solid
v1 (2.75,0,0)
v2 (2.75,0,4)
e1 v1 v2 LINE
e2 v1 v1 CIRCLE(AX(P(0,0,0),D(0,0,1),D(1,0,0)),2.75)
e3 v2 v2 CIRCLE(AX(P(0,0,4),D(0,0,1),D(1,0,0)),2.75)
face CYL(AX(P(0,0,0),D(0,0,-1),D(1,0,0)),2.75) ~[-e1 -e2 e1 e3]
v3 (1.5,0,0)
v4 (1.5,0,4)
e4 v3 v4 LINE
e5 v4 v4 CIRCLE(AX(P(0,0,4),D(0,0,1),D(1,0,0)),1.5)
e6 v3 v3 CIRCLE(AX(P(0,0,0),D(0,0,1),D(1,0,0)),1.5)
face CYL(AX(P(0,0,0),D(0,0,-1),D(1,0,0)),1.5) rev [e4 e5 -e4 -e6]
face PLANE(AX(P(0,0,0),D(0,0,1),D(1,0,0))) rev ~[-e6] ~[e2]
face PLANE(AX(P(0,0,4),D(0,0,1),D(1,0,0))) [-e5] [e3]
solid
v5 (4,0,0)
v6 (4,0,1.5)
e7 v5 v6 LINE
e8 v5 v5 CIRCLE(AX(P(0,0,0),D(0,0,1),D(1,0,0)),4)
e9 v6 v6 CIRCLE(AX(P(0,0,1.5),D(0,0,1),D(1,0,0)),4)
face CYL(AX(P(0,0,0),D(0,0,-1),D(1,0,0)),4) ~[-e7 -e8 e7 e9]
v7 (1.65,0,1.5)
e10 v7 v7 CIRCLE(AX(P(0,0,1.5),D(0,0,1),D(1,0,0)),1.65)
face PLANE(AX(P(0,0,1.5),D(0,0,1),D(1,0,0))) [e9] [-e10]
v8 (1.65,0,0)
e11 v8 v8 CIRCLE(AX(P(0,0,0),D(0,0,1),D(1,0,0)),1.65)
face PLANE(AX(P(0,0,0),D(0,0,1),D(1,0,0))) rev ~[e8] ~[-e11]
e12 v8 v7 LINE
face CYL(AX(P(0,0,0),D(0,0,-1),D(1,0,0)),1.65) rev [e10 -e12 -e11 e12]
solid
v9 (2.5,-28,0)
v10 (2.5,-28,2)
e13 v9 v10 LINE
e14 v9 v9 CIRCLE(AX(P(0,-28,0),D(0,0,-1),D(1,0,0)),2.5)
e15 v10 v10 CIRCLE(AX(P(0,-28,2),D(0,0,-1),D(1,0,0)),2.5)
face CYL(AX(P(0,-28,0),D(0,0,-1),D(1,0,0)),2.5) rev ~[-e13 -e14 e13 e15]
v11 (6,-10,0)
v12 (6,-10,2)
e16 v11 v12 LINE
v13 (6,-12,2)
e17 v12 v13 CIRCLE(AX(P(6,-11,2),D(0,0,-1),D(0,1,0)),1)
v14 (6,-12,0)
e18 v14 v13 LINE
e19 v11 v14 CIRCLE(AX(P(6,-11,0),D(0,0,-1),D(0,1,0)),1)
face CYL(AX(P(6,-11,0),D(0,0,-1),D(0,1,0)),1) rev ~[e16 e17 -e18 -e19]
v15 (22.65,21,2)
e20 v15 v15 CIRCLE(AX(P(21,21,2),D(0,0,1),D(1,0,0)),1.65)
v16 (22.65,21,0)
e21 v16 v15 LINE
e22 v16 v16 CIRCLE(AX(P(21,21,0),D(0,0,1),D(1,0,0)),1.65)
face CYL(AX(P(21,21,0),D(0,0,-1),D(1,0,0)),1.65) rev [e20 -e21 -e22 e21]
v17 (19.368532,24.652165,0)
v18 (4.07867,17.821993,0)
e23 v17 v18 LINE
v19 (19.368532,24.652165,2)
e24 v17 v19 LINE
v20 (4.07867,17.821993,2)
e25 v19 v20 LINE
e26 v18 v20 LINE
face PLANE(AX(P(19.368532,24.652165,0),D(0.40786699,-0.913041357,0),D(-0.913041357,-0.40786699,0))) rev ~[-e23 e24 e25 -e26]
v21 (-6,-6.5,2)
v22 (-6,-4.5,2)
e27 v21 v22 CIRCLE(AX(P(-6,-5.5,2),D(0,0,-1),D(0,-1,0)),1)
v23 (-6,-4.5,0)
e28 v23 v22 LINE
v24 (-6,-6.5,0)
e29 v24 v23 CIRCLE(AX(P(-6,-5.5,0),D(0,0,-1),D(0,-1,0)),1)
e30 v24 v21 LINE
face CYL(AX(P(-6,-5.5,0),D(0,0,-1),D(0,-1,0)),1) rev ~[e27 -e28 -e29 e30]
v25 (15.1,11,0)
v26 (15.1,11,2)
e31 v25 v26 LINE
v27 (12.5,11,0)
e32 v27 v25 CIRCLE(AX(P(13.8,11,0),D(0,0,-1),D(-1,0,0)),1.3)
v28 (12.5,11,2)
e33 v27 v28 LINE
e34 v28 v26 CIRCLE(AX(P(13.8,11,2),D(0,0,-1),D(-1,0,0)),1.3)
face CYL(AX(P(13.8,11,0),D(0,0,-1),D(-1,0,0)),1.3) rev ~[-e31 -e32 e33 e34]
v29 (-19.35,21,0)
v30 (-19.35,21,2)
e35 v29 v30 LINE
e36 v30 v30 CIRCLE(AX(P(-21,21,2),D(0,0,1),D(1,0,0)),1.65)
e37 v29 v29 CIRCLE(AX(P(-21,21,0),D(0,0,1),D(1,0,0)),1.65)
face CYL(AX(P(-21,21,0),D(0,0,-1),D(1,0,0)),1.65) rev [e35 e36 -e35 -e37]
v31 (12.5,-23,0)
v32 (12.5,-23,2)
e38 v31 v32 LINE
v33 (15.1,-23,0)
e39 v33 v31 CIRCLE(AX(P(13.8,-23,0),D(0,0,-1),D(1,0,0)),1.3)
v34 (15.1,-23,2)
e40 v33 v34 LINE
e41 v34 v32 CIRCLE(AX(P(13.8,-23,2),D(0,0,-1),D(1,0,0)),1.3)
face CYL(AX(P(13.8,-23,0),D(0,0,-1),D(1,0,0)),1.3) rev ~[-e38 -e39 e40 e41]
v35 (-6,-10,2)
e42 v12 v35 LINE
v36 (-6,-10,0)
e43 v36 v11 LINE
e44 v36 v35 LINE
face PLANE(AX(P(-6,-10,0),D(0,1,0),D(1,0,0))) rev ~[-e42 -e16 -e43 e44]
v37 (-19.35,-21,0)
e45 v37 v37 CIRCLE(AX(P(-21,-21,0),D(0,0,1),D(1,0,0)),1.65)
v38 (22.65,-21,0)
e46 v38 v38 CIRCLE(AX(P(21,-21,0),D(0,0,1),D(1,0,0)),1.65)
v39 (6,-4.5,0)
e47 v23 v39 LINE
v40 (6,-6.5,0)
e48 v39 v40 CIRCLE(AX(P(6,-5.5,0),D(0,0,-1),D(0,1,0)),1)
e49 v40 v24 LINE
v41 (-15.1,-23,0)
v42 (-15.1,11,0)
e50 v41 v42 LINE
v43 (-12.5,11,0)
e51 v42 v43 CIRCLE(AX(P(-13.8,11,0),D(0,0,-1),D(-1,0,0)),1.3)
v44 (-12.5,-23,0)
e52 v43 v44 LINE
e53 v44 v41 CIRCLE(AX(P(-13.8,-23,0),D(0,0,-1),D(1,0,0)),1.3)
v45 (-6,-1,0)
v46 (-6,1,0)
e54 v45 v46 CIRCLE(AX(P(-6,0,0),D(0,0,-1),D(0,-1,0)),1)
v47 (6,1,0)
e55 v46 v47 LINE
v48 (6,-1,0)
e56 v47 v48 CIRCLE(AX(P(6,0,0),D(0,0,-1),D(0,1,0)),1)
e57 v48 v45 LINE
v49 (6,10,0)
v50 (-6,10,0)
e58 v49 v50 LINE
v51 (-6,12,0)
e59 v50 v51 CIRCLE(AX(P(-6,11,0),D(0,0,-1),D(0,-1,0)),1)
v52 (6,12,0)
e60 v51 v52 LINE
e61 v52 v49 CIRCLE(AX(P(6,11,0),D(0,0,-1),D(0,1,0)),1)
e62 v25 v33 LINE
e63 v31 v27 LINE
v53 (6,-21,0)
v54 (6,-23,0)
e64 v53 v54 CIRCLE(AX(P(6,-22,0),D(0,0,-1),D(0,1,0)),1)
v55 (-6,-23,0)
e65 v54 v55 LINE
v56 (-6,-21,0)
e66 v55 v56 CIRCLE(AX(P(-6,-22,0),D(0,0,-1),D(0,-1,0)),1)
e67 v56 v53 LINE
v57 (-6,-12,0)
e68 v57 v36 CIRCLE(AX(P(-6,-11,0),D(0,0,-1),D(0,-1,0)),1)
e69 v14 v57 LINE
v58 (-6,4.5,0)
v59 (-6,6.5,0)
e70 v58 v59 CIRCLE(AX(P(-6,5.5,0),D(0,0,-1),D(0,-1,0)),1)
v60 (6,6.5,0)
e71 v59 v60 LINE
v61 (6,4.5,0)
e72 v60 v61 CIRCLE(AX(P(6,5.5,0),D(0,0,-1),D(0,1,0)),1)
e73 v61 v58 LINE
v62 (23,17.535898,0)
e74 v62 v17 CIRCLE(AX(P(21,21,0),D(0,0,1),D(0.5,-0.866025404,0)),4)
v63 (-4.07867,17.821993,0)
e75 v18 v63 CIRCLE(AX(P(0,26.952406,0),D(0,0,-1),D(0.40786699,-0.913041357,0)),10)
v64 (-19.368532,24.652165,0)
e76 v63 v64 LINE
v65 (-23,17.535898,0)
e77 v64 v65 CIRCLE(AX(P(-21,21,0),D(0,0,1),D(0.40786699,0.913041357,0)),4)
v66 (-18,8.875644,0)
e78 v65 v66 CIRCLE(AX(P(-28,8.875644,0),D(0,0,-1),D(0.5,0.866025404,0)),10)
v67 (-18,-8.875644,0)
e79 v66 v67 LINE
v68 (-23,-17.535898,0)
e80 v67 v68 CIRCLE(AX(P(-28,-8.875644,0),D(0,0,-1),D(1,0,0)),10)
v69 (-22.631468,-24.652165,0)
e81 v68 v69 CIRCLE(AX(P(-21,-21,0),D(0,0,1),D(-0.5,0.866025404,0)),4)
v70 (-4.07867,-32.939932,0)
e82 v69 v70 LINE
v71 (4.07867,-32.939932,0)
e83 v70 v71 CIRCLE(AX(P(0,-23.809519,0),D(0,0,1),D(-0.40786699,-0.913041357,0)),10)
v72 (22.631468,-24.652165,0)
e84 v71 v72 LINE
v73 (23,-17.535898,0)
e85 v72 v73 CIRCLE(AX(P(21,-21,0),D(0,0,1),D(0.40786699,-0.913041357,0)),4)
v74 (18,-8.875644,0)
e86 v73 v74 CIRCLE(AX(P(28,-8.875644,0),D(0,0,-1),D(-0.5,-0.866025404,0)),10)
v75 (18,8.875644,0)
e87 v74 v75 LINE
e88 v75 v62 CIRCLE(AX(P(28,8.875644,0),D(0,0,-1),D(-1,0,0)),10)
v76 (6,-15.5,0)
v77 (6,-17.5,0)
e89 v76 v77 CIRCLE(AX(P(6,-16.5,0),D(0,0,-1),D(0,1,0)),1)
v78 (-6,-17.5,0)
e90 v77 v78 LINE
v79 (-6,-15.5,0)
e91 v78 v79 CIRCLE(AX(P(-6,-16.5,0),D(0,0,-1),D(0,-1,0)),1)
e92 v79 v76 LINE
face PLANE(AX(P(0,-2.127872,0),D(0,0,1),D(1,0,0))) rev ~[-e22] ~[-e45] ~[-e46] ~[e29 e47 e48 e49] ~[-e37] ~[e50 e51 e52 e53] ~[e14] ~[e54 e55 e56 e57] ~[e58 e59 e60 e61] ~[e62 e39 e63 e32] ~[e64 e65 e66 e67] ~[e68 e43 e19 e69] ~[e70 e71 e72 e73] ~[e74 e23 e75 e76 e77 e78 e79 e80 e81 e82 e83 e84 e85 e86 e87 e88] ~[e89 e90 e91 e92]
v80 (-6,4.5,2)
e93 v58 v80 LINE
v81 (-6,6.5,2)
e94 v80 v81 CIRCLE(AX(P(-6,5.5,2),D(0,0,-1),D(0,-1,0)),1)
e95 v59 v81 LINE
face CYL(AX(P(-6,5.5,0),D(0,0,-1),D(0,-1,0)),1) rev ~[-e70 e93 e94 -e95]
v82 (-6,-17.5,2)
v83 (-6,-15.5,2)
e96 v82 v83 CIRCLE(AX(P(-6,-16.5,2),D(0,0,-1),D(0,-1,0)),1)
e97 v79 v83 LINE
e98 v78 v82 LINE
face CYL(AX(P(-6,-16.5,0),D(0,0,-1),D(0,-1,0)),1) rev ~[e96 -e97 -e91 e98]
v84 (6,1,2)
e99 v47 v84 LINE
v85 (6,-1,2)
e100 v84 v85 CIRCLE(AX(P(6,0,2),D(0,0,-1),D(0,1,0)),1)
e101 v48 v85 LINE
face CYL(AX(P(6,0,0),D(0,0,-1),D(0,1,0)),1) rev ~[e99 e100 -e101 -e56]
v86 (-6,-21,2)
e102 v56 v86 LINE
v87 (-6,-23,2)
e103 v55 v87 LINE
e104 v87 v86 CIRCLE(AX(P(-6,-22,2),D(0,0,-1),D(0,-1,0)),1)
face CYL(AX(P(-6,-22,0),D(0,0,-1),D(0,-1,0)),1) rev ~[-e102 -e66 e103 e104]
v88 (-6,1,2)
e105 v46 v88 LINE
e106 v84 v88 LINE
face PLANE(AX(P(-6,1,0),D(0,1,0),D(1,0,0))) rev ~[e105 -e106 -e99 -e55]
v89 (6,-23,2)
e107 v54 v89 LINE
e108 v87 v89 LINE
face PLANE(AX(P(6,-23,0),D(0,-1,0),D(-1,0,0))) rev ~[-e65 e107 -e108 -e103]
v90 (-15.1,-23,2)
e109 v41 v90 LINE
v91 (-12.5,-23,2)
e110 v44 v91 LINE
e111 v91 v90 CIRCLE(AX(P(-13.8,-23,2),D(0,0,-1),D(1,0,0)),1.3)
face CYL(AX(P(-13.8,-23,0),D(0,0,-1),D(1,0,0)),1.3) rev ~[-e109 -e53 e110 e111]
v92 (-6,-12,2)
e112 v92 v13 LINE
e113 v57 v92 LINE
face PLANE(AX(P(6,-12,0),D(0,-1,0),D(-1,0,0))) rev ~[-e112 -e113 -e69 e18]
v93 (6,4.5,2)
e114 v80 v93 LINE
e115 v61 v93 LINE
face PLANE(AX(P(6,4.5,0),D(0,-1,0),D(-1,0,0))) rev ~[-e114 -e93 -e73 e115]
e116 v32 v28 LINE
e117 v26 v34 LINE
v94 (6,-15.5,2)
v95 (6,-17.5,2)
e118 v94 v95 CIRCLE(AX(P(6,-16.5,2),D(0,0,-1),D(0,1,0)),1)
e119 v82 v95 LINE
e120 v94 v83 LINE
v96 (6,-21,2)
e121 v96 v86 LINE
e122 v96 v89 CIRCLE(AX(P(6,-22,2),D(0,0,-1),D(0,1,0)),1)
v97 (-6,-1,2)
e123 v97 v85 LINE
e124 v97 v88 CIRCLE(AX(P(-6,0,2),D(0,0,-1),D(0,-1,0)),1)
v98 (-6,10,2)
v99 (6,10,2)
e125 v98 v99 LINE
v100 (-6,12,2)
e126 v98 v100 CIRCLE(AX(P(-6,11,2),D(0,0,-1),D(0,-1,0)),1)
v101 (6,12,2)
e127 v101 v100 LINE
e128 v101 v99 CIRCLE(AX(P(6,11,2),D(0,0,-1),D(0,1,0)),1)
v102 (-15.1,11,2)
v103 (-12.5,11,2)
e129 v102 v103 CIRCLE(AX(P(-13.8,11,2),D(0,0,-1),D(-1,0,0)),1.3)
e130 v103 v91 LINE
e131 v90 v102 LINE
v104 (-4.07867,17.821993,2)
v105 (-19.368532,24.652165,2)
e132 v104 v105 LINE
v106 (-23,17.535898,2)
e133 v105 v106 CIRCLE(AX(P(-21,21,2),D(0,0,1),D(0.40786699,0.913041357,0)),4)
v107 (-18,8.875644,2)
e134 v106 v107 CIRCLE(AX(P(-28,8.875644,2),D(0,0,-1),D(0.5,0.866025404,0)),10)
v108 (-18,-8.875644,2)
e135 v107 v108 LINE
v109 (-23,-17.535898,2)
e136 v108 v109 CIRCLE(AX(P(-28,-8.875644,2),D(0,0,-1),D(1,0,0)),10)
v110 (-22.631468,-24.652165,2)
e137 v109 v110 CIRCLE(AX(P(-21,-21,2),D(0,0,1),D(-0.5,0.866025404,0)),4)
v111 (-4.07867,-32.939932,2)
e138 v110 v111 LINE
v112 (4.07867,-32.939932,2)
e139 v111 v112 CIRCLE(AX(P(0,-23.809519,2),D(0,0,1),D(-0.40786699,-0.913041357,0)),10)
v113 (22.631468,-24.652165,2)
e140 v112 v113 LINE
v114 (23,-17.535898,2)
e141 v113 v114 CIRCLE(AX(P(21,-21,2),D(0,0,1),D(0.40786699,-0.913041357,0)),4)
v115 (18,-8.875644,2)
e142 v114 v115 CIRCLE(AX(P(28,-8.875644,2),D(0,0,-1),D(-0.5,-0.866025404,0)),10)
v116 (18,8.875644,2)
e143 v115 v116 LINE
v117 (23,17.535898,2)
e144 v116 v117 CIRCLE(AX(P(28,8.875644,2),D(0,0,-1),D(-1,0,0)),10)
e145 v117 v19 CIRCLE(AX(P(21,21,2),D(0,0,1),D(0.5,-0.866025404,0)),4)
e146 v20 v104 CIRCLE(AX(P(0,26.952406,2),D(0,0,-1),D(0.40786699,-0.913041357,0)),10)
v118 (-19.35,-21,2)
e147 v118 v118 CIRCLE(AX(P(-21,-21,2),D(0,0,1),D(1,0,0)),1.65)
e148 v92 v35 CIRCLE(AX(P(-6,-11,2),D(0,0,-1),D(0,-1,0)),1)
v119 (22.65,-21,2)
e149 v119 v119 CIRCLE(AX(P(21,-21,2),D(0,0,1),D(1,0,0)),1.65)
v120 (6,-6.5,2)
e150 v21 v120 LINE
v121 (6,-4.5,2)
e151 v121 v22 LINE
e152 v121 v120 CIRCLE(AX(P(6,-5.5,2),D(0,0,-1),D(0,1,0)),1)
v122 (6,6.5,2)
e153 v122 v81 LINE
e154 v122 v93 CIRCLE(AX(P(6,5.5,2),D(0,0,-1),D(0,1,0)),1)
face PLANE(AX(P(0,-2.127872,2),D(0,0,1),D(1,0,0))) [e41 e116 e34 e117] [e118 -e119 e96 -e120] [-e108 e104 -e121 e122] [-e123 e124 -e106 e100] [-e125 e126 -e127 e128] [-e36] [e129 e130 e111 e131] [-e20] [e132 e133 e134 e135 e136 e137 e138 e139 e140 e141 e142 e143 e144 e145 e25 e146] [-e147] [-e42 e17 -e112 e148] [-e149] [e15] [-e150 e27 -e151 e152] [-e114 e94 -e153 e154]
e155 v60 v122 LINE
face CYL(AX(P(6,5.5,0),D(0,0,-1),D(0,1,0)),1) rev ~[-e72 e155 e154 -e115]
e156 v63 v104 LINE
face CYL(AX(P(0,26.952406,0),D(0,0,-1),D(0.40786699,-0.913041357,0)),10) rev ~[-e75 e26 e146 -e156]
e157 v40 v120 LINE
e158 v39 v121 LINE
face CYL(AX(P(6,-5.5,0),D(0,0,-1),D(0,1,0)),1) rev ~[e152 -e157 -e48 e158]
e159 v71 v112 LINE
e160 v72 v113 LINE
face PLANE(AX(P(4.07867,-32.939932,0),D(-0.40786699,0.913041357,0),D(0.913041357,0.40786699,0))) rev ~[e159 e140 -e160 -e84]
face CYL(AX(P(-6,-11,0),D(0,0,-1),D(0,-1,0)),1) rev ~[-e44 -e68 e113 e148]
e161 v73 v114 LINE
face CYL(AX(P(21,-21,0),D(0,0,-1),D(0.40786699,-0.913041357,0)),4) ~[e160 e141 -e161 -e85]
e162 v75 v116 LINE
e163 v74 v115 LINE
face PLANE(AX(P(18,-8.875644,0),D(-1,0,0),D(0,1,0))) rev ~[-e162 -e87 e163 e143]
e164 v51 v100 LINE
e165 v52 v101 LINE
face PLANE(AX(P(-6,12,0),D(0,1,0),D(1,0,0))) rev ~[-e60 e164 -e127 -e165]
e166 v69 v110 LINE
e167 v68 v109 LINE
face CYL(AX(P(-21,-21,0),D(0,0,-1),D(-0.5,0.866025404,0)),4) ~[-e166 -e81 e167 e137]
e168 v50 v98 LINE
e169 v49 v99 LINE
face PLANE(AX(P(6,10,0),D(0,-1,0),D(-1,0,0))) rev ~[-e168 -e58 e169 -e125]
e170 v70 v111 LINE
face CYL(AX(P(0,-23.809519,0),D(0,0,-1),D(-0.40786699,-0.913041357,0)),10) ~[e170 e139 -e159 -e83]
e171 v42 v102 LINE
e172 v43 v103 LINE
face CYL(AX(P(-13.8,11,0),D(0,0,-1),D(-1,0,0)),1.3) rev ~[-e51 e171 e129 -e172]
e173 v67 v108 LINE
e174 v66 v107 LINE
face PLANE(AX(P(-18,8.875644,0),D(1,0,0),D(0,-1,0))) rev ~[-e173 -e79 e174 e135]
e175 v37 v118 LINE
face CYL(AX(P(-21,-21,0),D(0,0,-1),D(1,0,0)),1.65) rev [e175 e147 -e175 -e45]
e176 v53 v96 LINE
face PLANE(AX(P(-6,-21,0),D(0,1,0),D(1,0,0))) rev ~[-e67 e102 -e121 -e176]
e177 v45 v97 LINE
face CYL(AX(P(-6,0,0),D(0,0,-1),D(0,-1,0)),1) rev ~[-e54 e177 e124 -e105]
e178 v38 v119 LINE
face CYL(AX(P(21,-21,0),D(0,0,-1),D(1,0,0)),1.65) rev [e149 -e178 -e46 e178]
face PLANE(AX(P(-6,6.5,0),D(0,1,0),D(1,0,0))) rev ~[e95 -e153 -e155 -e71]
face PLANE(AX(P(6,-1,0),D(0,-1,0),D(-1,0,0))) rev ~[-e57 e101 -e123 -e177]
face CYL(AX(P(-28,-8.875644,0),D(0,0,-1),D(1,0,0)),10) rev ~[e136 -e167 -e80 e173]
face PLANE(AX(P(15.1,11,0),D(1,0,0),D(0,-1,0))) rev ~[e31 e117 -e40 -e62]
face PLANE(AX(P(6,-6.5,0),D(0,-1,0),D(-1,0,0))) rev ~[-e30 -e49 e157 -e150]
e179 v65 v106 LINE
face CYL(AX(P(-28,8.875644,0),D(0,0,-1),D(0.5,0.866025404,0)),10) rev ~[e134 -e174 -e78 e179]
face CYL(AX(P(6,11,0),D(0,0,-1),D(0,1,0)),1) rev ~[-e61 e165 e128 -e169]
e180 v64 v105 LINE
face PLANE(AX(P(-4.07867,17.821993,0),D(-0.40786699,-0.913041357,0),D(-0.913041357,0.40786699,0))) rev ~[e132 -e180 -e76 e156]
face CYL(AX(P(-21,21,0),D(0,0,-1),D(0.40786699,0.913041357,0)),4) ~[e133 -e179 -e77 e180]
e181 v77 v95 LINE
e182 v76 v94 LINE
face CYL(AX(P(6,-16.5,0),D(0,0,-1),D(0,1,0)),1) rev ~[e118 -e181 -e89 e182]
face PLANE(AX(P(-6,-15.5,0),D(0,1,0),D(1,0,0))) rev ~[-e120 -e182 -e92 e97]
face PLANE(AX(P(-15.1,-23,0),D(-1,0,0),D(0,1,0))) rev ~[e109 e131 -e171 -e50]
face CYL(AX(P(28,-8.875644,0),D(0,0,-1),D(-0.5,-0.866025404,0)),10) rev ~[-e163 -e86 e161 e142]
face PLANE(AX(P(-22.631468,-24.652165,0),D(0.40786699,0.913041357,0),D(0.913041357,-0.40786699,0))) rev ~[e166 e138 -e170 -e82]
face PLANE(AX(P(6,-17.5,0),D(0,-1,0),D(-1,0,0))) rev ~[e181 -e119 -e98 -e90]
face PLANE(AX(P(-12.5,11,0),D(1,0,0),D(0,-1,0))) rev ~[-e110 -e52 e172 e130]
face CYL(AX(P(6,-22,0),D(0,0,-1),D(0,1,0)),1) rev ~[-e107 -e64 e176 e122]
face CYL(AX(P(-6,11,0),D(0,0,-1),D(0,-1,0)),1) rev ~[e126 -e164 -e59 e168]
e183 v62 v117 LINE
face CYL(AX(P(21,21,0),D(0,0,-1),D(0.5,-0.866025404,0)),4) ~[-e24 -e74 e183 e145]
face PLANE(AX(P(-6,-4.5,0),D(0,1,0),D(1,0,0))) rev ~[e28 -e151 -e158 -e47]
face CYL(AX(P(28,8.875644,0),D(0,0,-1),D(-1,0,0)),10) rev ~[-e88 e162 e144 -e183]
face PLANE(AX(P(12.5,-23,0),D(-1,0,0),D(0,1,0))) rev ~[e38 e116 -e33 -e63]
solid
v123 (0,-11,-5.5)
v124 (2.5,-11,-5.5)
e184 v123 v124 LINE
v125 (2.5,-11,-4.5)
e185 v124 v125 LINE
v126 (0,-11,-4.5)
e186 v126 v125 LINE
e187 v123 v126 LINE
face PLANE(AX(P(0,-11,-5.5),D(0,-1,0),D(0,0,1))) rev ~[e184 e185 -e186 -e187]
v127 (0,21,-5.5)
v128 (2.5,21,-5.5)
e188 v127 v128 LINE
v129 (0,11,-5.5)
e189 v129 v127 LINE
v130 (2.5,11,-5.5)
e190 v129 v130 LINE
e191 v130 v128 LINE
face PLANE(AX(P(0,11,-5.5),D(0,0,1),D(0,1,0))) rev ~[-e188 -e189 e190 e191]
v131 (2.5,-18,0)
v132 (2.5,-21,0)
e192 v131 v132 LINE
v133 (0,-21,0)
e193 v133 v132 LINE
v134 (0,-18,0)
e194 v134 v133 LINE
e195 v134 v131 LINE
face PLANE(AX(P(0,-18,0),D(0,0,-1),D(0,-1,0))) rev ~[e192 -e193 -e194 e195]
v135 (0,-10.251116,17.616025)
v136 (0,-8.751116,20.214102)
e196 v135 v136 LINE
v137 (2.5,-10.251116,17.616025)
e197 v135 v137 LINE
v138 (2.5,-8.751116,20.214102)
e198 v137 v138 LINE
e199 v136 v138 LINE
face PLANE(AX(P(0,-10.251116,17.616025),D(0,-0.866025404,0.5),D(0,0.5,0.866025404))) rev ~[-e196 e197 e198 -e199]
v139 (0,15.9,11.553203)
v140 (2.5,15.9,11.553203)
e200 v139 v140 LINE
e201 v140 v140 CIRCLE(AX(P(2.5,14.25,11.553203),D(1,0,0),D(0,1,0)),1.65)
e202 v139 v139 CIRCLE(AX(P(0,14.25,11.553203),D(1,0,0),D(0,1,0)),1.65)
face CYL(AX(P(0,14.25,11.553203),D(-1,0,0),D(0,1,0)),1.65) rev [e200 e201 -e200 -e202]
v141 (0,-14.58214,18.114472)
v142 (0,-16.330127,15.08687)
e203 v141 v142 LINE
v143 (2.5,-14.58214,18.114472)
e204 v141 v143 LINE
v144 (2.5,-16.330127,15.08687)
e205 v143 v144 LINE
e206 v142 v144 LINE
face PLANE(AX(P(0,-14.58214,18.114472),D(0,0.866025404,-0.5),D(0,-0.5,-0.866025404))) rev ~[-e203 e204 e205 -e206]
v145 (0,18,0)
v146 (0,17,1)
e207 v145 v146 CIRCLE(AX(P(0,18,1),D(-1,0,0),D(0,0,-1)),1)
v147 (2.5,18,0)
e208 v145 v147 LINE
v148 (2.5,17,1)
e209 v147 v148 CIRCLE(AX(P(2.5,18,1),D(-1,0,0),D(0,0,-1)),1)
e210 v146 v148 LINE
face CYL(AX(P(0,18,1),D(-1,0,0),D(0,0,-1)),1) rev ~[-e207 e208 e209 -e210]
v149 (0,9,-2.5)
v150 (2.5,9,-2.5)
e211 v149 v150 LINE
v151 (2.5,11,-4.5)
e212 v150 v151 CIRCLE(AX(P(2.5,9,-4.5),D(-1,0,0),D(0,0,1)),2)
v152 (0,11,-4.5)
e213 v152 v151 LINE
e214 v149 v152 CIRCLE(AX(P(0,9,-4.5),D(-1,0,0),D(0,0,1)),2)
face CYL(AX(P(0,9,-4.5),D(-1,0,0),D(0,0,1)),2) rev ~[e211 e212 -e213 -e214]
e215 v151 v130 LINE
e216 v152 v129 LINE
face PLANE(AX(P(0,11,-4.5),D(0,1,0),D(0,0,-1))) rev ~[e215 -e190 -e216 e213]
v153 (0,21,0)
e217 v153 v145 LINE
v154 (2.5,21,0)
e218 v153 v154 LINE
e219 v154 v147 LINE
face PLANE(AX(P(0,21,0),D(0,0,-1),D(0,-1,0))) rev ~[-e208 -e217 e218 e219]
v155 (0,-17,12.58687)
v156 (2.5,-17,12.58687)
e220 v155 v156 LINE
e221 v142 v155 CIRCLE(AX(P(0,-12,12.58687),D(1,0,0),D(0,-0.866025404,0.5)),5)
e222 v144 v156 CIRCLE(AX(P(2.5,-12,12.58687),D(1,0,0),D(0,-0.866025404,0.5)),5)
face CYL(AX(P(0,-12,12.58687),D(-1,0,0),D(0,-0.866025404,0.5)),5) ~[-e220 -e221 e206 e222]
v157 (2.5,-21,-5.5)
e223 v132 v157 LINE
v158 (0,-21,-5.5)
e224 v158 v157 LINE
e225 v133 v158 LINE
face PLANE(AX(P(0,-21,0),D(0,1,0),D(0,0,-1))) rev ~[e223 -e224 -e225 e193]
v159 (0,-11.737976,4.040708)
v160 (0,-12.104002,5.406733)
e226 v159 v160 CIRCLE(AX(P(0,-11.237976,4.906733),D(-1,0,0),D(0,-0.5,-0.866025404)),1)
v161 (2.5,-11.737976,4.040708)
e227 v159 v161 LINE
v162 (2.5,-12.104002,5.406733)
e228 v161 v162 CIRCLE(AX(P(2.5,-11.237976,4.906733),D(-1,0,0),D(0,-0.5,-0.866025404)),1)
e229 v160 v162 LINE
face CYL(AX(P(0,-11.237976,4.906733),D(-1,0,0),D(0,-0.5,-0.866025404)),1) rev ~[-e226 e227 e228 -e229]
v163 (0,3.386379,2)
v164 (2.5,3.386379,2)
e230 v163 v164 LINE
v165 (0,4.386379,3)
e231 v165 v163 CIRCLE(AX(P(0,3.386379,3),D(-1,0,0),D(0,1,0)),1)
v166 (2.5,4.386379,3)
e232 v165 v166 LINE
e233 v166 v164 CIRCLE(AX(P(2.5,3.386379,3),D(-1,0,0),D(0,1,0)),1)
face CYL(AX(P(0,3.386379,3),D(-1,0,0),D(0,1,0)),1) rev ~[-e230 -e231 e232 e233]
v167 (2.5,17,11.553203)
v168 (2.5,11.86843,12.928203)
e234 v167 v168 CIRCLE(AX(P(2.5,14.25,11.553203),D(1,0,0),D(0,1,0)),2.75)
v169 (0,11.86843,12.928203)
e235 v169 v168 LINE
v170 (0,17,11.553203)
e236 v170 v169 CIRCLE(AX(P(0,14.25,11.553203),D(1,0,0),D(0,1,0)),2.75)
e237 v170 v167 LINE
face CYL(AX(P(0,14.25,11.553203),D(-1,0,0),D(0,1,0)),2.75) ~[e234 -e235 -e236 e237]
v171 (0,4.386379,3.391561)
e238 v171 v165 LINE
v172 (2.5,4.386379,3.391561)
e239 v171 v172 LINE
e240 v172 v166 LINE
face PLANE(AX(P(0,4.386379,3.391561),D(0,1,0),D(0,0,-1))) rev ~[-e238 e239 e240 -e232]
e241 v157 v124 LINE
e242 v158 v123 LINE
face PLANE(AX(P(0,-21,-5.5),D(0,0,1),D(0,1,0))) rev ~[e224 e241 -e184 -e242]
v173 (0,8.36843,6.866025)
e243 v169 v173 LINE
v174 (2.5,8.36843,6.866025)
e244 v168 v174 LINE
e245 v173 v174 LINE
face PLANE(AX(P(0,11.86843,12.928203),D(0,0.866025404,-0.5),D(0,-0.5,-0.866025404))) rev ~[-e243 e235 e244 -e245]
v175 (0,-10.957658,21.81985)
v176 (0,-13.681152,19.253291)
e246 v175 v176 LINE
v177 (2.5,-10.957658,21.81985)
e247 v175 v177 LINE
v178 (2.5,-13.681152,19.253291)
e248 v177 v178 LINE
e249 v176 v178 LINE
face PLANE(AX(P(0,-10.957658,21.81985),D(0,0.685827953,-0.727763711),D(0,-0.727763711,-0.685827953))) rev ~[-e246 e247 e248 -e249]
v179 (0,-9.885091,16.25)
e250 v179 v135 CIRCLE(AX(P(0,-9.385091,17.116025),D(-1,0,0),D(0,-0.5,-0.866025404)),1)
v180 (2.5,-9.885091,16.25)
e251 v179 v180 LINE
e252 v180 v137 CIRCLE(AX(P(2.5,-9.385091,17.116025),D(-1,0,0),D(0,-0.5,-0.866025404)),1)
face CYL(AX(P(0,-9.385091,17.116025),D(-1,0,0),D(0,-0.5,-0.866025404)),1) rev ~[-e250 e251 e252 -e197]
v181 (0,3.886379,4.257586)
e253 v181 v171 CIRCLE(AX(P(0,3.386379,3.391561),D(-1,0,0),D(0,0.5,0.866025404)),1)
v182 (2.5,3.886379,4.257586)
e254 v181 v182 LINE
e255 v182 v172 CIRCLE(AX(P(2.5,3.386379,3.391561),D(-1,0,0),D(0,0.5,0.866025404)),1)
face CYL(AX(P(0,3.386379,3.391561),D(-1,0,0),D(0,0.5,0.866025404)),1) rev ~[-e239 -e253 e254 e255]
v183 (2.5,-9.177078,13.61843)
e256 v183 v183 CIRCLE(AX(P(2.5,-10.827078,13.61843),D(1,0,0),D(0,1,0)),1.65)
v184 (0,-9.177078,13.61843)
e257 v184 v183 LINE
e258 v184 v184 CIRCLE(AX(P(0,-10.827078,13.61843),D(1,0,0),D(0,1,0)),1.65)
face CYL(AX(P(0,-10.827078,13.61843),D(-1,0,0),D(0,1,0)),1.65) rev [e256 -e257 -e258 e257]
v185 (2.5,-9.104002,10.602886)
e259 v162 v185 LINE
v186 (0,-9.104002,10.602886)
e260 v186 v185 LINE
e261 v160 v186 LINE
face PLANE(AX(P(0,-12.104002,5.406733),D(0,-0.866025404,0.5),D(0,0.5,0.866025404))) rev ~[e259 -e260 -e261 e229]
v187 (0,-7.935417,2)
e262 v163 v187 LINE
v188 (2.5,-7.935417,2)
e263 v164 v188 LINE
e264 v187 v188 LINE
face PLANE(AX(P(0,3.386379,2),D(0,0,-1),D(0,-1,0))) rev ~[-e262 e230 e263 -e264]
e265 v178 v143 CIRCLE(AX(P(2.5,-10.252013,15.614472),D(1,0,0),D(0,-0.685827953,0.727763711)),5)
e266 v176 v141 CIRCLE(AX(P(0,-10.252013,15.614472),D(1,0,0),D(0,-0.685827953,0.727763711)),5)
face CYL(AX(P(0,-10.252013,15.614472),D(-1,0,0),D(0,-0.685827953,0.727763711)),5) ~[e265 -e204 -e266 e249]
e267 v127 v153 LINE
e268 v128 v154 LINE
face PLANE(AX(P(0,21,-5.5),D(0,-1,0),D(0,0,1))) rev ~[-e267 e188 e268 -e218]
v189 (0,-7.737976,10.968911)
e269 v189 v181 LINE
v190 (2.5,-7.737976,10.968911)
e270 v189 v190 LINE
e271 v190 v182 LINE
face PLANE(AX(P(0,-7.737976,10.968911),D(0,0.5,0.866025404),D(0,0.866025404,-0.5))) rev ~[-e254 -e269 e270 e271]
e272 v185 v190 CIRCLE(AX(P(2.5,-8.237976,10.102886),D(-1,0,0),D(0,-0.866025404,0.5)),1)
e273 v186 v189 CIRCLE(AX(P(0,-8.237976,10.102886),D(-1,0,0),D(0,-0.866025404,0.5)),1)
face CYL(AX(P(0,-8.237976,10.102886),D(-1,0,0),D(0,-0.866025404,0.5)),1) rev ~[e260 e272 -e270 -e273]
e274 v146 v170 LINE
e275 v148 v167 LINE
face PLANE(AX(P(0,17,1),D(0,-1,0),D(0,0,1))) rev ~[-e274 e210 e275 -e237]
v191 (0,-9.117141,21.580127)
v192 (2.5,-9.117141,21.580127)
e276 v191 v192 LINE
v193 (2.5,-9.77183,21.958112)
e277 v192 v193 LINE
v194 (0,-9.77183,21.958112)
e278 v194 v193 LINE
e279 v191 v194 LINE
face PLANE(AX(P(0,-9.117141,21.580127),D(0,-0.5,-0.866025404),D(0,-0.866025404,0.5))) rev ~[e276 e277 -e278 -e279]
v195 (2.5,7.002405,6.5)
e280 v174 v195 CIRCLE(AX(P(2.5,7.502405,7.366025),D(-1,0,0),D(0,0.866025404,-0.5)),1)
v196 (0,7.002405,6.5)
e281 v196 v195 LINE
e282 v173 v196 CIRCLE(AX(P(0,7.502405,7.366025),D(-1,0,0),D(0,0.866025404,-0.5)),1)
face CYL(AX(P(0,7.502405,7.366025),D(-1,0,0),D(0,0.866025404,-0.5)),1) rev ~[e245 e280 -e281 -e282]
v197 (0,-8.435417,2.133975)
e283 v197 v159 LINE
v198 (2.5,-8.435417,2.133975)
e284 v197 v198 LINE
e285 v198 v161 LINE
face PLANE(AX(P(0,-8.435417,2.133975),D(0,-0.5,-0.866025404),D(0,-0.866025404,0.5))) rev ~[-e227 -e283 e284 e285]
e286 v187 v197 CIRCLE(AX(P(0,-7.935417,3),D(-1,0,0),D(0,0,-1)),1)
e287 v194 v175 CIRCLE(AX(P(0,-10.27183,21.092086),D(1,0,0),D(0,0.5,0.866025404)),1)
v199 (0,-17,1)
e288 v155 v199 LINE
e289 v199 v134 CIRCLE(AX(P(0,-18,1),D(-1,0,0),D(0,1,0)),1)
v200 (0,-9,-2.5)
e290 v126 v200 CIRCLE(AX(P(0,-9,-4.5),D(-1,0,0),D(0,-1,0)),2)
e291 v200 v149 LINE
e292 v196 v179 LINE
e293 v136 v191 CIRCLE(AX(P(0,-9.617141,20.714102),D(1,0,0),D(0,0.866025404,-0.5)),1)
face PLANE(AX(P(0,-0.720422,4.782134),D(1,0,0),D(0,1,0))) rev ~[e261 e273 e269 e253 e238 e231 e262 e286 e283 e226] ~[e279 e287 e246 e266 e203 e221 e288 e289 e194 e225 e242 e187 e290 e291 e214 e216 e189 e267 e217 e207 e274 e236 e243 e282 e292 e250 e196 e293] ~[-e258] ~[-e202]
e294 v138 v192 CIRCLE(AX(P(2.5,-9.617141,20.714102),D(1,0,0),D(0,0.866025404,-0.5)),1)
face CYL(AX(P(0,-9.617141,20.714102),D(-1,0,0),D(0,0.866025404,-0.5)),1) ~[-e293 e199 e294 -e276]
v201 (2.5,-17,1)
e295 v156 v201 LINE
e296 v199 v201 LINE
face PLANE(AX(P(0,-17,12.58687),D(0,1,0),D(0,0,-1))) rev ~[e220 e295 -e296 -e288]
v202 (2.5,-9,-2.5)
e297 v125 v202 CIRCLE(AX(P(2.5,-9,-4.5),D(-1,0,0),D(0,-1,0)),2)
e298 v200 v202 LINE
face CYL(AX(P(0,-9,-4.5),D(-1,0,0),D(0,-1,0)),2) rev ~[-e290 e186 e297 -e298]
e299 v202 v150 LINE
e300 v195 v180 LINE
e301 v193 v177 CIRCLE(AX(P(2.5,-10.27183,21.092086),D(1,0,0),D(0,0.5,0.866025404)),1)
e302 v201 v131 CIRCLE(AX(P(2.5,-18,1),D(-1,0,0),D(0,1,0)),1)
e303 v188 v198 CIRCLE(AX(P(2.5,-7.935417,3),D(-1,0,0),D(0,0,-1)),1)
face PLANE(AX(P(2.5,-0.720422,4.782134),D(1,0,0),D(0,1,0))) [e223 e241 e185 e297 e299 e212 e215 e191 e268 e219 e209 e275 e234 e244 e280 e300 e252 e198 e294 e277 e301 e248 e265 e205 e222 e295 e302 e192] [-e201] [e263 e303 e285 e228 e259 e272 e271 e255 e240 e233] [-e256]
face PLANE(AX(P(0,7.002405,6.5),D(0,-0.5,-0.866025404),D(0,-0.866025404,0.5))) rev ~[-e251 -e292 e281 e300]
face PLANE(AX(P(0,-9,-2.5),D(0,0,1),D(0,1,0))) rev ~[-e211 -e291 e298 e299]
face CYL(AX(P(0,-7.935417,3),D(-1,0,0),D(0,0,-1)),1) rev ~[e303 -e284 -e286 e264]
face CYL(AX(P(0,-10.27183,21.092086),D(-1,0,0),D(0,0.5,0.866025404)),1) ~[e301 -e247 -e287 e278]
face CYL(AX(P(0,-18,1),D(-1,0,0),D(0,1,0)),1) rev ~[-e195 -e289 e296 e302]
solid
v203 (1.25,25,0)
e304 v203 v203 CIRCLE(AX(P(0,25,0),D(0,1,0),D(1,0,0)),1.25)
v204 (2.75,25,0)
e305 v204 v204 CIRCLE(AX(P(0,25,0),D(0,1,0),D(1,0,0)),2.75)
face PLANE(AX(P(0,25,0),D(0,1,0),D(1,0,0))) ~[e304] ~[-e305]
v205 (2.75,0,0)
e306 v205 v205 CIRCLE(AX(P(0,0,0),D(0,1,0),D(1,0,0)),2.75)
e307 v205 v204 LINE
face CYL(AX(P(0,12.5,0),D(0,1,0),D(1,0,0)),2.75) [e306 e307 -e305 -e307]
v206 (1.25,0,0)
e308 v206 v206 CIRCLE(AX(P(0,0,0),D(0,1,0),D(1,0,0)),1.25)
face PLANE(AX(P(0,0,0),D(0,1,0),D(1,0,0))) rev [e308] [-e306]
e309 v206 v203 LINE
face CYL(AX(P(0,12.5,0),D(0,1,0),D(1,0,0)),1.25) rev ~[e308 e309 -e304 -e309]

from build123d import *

# Parameters (mm, degrees)
F0_R      = 1.65
F1_DEPTH  = 2.5
F2_R      = 1.65
F3_DEPTH  = 2
F4_W      = 1.5
F4_H      = 25
F6_R      = 2.5
F7_DEPTH  = 25
F8_R      = 2.75
F8_R_2    = 1.5
F9_DEPTH  = 4
F10_R     = 4
F10_R_2   = 1.65
F11_DEPTH = 1.5


with BuildPart() as f1:
    # F0 (on Right) → F1 (new body)
    with BuildSketch(Plane.YZ):
        with BuildLine():
            Line((-18, 0), (-21, 0))
            Line((-21, 0), (-21, -5.5))
            Line((-21, -5.5), (-11, -5.5))
            Line((-11, -5.5), (-11, -4.5))
            ThreePointArc((-11, -4.5), (-10.4142135624, -3.0857864376), (-9, -2.5))
            Line((-9, -2.5), (9, -2.5))
            ThreePointArc((9, -2.5), (10.4142135624, -3.0857864376), (11, -4.5))
            Line((11, -4.5), (11, -5.5))
            Line((11, -5.5), (21, -5.5))
            Line((21, -5.5), (21, 0))
            Line((21, 0), (18, 0))
            ThreePointArc((18, 0), (17.2928932188, 0.2928932188), (17, 1))
            Line((17, 1), (17, 11.5532032303))
            ThreePointArc((17, 11.5532032303), (14.961752374, 14.2094992526), (11.8684301396, 12.9282032303))
            Line((11.8684301396, 12.9282032303), (8.3684301396, 6.8660254038))
            ThreePointArc((8.3684301396, 6.8660254038), (7.7612237809, 6.4000995775), (7.0024047358, 6.5))
            Line((7.0024047358, 6.5), (-9.885090638, 16.25))
            ThreePointArc((-9.885090638, 16.25), (-10.3510164643, 16.8572063587), (-10.2511160418, 17.6160254038))
            Line((-10.2511160418, 17.6160254038), (-8.7511160418, 20.2141016151))
            ThreePointArc((-8.7511160418, 20.2141016151), (-8.6512156193, 20.9729206602), (-9.1171414456, 21.5801270189))
            Line((-9.1171414456, 21.5801270189), (-9.7718301064, 21.9581116935))
            ThreePointArc((-9.7718301064, 21.9581116935), (-10.3876406452, 22.0853576117), (-10.957658059, 21.8198500009))
            Line((-10.957658059, 21.8198500009), (-13.6811524919, 19.2532908526))
            ThreePointArc((-13.6811524919, 19.2532908526), (-14.1732092521, 18.7167646464), (-14.5821397477, 18.1144722964))
            Line((-14.5821397477, 18.1144722964), (-16.3301270189, 15.0868695316))
            ThreePointArc((-16.3301270189, 15.0868695316), (-16.8296291314, 13.8809647571), (-17, 12.5868695316))
            Line((-17, 12.5868695316), (-17, 1))
            ThreePointArc((-17, 1), (-17.2928932188, 0.2928932188), (-18, 0))
        make_face()
        with BuildLine():
            ThreePointArc((-9.1040017247, 10.602885683), (-8.4967953661, 11.0688115093), (-7.737976321, 10.9689110868))
            Line((-7.737976321, 10.9689110868), (3.886379332, 4.2575862213))
            ThreePointArc((3.886379332, 4.2575862213), (4.2524047358, 3.8915608176), (4.386379332, 3.3915608176))
            Line((4.386379332, 3.3915608176), (4.386379332, 3))
            ThreePointArc((4.386379332, 3), (4.0934861132, 2.2928932188), (3.386379332, 2))
            Line((3.386379332, 2), (-7.9354174377, 2))
            ThreePointArc((-7.9354174377, 2), (-8.1942364828, 2.0340741737), (-8.4354174377, 2.1339745962))
            Line((-8.4354174377, 2.1339745962), (-11.737976321, 4.0407078565))
            ThreePointArc((-11.737976321, 4.0407078565), (-12.2039021472, 4.6479142152), (-12.1040017247, 5.4067332603))
            Line((-12.1040017247, 5.4067332603), (-9.1040017247, 10.602885683))
        make_face(mode=Mode.SUBTRACT)
        with Locations((-10.8270779361, 13.6184301396)):
            Circle(F0_R, mode=Mode.SUBTRACT)
        with Locations((14.25, 11.5532032303)):
            Circle(F0_R, mode=Mode.SUBTRACT)
    extrude(amount=F1_DEPTH)


with BuildPart() as f3:
    # F2 (on Top) → F3 (new body)
    with BuildSketch(Plane.XY):
        with BuildLine():
            Line((-4.0786698965, 17.8219928381), (-19.3685320414, 24.6521654262))
            ThreePointArc((-19.3685320414, 24.6521654262), (-24.5629016429, 22.8181671768), (-23, 17.5358983849))
            ThreePointArc((-23, 17.5358983849), (-19.3397459622, 13.875644347), (-18, 8.875644347))
            Line((-18, 8.875644347), (-18, -8.875644347))
            ThreePointArc((-18, -8.875644347), (-19.3397459622, -13.875644347), (-23, -17.5358983849))
            ThreePointArc((-23, -17.5358983849), (-24.9946469224, -21.206871858), (-22.6314679586, -24.6521654262))
            Line((-22.6314679586, -24.6521654262), (-4.0786698965, -32.9399322847))
            ThreePointArc((-4.0786698965, -32.9399322847), (0, -33.8095187193), (4.0786698965, -32.9399322847))
            Line((4.0786698965, -32.9399322847), (22.6314679586, -24.6521654262))
            ThreePointArc((22.6314679586, -24.6521654262), (24.9946469224, -21.206871858), (23, -17.5358983849))
            ThreePointArc((23, -17.5358983849), (19.3397459622, -13.875644347), (18, -8.875644347))
            Line((18, -8.875644347), (18, 8.875644347))
            ThreePointArc((18, 8.875644347), (19.3397459622, 13.875644347), (23, 17.5358983849))
            ThreePointArc((23, 17.5358983849), (24.5629016429, 22.8181671768), (19.3685320414, 24.6521654262))
            Line((19.3685320414, 24.6521654262), (4.0786698965, 17.8219928381))
            ThreePointArc((4.0786698965, 17.8219928381), (0, 16.9524064035), (-4.0786698965, 17.8219928381))
        make_face()
        with Locations((-21, -21)):
            Circle(F2_R, mode=Mode.SUBTRACT)
        with BuildLine():
            Line((-15.1, -23), (-15.1, 11))
            ThreePointArc((-15.1, 11), (-13.8, 12.3), (-12.5, 11))
            Line((-12.5, 11), (-12.5, -23))
            ThreePointArc((-12.5, -23), (-13.8, -24.3), (-15.1, -23))
        make_face(mode=Mode.SUBTRACT)
        with Locations((21, -21)):
            Circle(F2_R, mode=Mode.SUBTRACT)
        with BuildLine():
            ThreePointArc((12.5, 11), (13.8, 12.3), (15.1, 11))
            Line((15.1, 11), (15.1, -23))
            ThreePointArc((15.1, -23), (13.8, -24.3), (12.5, -23))
            Line((12.5, -23), (12.5, 11))
        make_face(mode=Mode.SUBTRACT)
        with Locations((-21, 21)):
            Circle(F2_R, mode=Mode.SUBTRACT)
        with Locations((21, 21)):
            Circle(F2_R, mode=Mode.SUBTRACT)
    extrude(amount=F3_DEPTH)

    # F6 (on face) → F7 (cut)
    with BuildSketch(Plane(origin=(0, 0, 0), x_dir=(1, 0, 0), z_dir=(0, 0, -1))):
        with BuildLine():
            ThreePointArc((-6, 23), (-7, 22), (-6, 21))
            Line((-6, 21), (6, 21))
            ThreePointArc((6, 21), (7, 22), (6, 23))
            Line((6, 23), (-6, 23))
        make_face()
        with BuildLine():
            ThreePointArc((-6, 17.5), (-7, 16.5), (-6, 15.5))
            Line((-6, 15.5), (6, 15.5))
            ThreePointArc((6, 15.5), (7, 16.5), (6, 17.5))
            Line((6, 17.5), (-6, 17.5))
        make_face()
        with BuildLine():
            ThreePointArc((-6, 12), (-7, 11), (-6, 10))
            Line((-6, 10), (6, 10))
            ThreePointArc((6, 10), (7, 11), (6, 12))
            Line((6, 12), (-6, 12))
        make_face()
        with BuildLine():
            ThreePointArc((-6, 6.5), (-7, 5.5), (-6, 4.5))
            Line((-6, 4.5), (6, 4.5))
            ThreePointArc((6, 4.5), (7, 5.5), (6, 6.5))
            Line((6, 6.5), (-6, 6.5))
        make_face()
        with BuildLine():
            ThreePointArc((-6, 1), (-7, 0), (-6, -1))
            Line((-6, -1), (6, -1))
            ThreePointArc((6, -1), (7, 0), (6, 1))
            Line((6, 1), (-6, 1))
        make_face()
        with BuildLine():
            ThreePointArc((-6, -4.5), (-7, -5.5), (-6, -6.5))
            Line((-6, -6.5), (6, -6.5))
            ThreePointArc((6, -6.5), (7, -5.5), (6, -4.5))
            Line((6, -4.5), (-6, -4.5))
        make_face()
        with BuildLine():
            ThreePointArc((-6, -10), (-7, -11), (-6, -12))
            Line((-6, -12), (6, -12))
            ThreePointArc((6, -12), (7, -11), (6, -10))
            Line((6, -10), (-6, -10))
        make_face()
        with Locations((0, 28)):
            Circle(F6_R)
    extrude(amount=-F7_DEPTH, mode=Mode.SUBTRACT)


with BuildPart() as f5:
    # F4 (on Top) → F5 (revolve)
    with BuildSketch(Plane.XY):
        with Locations((2, 12.5)):
            Rectangle(F4_W, F4_H)
    revolve(axis=Axis((0, 12.5, 0), (0, 1, 0)))


with BuildPart() as f9:
    # F8 (on Top) → F9 (new body)
    with BuildSketch(Plane.XY):
        Circle(F8_R)
        Circle(F8_R_2, mode=Mode.SUBTRACT)
    extrude(amount=F9_DEPTH)


with BuildPart() as f11:
    # F10 (on Top) → F11 (new body)
    with BuildSketch(Plane.XY):
        Circle(F10_R)
        Circle(F10_R_2, mode=Mode.SUBTRACT)
    extrude(amount=F11_DEPTH)


solid = Compound([f1.part, f3.part, f5.part, f9.part, f11.part])
